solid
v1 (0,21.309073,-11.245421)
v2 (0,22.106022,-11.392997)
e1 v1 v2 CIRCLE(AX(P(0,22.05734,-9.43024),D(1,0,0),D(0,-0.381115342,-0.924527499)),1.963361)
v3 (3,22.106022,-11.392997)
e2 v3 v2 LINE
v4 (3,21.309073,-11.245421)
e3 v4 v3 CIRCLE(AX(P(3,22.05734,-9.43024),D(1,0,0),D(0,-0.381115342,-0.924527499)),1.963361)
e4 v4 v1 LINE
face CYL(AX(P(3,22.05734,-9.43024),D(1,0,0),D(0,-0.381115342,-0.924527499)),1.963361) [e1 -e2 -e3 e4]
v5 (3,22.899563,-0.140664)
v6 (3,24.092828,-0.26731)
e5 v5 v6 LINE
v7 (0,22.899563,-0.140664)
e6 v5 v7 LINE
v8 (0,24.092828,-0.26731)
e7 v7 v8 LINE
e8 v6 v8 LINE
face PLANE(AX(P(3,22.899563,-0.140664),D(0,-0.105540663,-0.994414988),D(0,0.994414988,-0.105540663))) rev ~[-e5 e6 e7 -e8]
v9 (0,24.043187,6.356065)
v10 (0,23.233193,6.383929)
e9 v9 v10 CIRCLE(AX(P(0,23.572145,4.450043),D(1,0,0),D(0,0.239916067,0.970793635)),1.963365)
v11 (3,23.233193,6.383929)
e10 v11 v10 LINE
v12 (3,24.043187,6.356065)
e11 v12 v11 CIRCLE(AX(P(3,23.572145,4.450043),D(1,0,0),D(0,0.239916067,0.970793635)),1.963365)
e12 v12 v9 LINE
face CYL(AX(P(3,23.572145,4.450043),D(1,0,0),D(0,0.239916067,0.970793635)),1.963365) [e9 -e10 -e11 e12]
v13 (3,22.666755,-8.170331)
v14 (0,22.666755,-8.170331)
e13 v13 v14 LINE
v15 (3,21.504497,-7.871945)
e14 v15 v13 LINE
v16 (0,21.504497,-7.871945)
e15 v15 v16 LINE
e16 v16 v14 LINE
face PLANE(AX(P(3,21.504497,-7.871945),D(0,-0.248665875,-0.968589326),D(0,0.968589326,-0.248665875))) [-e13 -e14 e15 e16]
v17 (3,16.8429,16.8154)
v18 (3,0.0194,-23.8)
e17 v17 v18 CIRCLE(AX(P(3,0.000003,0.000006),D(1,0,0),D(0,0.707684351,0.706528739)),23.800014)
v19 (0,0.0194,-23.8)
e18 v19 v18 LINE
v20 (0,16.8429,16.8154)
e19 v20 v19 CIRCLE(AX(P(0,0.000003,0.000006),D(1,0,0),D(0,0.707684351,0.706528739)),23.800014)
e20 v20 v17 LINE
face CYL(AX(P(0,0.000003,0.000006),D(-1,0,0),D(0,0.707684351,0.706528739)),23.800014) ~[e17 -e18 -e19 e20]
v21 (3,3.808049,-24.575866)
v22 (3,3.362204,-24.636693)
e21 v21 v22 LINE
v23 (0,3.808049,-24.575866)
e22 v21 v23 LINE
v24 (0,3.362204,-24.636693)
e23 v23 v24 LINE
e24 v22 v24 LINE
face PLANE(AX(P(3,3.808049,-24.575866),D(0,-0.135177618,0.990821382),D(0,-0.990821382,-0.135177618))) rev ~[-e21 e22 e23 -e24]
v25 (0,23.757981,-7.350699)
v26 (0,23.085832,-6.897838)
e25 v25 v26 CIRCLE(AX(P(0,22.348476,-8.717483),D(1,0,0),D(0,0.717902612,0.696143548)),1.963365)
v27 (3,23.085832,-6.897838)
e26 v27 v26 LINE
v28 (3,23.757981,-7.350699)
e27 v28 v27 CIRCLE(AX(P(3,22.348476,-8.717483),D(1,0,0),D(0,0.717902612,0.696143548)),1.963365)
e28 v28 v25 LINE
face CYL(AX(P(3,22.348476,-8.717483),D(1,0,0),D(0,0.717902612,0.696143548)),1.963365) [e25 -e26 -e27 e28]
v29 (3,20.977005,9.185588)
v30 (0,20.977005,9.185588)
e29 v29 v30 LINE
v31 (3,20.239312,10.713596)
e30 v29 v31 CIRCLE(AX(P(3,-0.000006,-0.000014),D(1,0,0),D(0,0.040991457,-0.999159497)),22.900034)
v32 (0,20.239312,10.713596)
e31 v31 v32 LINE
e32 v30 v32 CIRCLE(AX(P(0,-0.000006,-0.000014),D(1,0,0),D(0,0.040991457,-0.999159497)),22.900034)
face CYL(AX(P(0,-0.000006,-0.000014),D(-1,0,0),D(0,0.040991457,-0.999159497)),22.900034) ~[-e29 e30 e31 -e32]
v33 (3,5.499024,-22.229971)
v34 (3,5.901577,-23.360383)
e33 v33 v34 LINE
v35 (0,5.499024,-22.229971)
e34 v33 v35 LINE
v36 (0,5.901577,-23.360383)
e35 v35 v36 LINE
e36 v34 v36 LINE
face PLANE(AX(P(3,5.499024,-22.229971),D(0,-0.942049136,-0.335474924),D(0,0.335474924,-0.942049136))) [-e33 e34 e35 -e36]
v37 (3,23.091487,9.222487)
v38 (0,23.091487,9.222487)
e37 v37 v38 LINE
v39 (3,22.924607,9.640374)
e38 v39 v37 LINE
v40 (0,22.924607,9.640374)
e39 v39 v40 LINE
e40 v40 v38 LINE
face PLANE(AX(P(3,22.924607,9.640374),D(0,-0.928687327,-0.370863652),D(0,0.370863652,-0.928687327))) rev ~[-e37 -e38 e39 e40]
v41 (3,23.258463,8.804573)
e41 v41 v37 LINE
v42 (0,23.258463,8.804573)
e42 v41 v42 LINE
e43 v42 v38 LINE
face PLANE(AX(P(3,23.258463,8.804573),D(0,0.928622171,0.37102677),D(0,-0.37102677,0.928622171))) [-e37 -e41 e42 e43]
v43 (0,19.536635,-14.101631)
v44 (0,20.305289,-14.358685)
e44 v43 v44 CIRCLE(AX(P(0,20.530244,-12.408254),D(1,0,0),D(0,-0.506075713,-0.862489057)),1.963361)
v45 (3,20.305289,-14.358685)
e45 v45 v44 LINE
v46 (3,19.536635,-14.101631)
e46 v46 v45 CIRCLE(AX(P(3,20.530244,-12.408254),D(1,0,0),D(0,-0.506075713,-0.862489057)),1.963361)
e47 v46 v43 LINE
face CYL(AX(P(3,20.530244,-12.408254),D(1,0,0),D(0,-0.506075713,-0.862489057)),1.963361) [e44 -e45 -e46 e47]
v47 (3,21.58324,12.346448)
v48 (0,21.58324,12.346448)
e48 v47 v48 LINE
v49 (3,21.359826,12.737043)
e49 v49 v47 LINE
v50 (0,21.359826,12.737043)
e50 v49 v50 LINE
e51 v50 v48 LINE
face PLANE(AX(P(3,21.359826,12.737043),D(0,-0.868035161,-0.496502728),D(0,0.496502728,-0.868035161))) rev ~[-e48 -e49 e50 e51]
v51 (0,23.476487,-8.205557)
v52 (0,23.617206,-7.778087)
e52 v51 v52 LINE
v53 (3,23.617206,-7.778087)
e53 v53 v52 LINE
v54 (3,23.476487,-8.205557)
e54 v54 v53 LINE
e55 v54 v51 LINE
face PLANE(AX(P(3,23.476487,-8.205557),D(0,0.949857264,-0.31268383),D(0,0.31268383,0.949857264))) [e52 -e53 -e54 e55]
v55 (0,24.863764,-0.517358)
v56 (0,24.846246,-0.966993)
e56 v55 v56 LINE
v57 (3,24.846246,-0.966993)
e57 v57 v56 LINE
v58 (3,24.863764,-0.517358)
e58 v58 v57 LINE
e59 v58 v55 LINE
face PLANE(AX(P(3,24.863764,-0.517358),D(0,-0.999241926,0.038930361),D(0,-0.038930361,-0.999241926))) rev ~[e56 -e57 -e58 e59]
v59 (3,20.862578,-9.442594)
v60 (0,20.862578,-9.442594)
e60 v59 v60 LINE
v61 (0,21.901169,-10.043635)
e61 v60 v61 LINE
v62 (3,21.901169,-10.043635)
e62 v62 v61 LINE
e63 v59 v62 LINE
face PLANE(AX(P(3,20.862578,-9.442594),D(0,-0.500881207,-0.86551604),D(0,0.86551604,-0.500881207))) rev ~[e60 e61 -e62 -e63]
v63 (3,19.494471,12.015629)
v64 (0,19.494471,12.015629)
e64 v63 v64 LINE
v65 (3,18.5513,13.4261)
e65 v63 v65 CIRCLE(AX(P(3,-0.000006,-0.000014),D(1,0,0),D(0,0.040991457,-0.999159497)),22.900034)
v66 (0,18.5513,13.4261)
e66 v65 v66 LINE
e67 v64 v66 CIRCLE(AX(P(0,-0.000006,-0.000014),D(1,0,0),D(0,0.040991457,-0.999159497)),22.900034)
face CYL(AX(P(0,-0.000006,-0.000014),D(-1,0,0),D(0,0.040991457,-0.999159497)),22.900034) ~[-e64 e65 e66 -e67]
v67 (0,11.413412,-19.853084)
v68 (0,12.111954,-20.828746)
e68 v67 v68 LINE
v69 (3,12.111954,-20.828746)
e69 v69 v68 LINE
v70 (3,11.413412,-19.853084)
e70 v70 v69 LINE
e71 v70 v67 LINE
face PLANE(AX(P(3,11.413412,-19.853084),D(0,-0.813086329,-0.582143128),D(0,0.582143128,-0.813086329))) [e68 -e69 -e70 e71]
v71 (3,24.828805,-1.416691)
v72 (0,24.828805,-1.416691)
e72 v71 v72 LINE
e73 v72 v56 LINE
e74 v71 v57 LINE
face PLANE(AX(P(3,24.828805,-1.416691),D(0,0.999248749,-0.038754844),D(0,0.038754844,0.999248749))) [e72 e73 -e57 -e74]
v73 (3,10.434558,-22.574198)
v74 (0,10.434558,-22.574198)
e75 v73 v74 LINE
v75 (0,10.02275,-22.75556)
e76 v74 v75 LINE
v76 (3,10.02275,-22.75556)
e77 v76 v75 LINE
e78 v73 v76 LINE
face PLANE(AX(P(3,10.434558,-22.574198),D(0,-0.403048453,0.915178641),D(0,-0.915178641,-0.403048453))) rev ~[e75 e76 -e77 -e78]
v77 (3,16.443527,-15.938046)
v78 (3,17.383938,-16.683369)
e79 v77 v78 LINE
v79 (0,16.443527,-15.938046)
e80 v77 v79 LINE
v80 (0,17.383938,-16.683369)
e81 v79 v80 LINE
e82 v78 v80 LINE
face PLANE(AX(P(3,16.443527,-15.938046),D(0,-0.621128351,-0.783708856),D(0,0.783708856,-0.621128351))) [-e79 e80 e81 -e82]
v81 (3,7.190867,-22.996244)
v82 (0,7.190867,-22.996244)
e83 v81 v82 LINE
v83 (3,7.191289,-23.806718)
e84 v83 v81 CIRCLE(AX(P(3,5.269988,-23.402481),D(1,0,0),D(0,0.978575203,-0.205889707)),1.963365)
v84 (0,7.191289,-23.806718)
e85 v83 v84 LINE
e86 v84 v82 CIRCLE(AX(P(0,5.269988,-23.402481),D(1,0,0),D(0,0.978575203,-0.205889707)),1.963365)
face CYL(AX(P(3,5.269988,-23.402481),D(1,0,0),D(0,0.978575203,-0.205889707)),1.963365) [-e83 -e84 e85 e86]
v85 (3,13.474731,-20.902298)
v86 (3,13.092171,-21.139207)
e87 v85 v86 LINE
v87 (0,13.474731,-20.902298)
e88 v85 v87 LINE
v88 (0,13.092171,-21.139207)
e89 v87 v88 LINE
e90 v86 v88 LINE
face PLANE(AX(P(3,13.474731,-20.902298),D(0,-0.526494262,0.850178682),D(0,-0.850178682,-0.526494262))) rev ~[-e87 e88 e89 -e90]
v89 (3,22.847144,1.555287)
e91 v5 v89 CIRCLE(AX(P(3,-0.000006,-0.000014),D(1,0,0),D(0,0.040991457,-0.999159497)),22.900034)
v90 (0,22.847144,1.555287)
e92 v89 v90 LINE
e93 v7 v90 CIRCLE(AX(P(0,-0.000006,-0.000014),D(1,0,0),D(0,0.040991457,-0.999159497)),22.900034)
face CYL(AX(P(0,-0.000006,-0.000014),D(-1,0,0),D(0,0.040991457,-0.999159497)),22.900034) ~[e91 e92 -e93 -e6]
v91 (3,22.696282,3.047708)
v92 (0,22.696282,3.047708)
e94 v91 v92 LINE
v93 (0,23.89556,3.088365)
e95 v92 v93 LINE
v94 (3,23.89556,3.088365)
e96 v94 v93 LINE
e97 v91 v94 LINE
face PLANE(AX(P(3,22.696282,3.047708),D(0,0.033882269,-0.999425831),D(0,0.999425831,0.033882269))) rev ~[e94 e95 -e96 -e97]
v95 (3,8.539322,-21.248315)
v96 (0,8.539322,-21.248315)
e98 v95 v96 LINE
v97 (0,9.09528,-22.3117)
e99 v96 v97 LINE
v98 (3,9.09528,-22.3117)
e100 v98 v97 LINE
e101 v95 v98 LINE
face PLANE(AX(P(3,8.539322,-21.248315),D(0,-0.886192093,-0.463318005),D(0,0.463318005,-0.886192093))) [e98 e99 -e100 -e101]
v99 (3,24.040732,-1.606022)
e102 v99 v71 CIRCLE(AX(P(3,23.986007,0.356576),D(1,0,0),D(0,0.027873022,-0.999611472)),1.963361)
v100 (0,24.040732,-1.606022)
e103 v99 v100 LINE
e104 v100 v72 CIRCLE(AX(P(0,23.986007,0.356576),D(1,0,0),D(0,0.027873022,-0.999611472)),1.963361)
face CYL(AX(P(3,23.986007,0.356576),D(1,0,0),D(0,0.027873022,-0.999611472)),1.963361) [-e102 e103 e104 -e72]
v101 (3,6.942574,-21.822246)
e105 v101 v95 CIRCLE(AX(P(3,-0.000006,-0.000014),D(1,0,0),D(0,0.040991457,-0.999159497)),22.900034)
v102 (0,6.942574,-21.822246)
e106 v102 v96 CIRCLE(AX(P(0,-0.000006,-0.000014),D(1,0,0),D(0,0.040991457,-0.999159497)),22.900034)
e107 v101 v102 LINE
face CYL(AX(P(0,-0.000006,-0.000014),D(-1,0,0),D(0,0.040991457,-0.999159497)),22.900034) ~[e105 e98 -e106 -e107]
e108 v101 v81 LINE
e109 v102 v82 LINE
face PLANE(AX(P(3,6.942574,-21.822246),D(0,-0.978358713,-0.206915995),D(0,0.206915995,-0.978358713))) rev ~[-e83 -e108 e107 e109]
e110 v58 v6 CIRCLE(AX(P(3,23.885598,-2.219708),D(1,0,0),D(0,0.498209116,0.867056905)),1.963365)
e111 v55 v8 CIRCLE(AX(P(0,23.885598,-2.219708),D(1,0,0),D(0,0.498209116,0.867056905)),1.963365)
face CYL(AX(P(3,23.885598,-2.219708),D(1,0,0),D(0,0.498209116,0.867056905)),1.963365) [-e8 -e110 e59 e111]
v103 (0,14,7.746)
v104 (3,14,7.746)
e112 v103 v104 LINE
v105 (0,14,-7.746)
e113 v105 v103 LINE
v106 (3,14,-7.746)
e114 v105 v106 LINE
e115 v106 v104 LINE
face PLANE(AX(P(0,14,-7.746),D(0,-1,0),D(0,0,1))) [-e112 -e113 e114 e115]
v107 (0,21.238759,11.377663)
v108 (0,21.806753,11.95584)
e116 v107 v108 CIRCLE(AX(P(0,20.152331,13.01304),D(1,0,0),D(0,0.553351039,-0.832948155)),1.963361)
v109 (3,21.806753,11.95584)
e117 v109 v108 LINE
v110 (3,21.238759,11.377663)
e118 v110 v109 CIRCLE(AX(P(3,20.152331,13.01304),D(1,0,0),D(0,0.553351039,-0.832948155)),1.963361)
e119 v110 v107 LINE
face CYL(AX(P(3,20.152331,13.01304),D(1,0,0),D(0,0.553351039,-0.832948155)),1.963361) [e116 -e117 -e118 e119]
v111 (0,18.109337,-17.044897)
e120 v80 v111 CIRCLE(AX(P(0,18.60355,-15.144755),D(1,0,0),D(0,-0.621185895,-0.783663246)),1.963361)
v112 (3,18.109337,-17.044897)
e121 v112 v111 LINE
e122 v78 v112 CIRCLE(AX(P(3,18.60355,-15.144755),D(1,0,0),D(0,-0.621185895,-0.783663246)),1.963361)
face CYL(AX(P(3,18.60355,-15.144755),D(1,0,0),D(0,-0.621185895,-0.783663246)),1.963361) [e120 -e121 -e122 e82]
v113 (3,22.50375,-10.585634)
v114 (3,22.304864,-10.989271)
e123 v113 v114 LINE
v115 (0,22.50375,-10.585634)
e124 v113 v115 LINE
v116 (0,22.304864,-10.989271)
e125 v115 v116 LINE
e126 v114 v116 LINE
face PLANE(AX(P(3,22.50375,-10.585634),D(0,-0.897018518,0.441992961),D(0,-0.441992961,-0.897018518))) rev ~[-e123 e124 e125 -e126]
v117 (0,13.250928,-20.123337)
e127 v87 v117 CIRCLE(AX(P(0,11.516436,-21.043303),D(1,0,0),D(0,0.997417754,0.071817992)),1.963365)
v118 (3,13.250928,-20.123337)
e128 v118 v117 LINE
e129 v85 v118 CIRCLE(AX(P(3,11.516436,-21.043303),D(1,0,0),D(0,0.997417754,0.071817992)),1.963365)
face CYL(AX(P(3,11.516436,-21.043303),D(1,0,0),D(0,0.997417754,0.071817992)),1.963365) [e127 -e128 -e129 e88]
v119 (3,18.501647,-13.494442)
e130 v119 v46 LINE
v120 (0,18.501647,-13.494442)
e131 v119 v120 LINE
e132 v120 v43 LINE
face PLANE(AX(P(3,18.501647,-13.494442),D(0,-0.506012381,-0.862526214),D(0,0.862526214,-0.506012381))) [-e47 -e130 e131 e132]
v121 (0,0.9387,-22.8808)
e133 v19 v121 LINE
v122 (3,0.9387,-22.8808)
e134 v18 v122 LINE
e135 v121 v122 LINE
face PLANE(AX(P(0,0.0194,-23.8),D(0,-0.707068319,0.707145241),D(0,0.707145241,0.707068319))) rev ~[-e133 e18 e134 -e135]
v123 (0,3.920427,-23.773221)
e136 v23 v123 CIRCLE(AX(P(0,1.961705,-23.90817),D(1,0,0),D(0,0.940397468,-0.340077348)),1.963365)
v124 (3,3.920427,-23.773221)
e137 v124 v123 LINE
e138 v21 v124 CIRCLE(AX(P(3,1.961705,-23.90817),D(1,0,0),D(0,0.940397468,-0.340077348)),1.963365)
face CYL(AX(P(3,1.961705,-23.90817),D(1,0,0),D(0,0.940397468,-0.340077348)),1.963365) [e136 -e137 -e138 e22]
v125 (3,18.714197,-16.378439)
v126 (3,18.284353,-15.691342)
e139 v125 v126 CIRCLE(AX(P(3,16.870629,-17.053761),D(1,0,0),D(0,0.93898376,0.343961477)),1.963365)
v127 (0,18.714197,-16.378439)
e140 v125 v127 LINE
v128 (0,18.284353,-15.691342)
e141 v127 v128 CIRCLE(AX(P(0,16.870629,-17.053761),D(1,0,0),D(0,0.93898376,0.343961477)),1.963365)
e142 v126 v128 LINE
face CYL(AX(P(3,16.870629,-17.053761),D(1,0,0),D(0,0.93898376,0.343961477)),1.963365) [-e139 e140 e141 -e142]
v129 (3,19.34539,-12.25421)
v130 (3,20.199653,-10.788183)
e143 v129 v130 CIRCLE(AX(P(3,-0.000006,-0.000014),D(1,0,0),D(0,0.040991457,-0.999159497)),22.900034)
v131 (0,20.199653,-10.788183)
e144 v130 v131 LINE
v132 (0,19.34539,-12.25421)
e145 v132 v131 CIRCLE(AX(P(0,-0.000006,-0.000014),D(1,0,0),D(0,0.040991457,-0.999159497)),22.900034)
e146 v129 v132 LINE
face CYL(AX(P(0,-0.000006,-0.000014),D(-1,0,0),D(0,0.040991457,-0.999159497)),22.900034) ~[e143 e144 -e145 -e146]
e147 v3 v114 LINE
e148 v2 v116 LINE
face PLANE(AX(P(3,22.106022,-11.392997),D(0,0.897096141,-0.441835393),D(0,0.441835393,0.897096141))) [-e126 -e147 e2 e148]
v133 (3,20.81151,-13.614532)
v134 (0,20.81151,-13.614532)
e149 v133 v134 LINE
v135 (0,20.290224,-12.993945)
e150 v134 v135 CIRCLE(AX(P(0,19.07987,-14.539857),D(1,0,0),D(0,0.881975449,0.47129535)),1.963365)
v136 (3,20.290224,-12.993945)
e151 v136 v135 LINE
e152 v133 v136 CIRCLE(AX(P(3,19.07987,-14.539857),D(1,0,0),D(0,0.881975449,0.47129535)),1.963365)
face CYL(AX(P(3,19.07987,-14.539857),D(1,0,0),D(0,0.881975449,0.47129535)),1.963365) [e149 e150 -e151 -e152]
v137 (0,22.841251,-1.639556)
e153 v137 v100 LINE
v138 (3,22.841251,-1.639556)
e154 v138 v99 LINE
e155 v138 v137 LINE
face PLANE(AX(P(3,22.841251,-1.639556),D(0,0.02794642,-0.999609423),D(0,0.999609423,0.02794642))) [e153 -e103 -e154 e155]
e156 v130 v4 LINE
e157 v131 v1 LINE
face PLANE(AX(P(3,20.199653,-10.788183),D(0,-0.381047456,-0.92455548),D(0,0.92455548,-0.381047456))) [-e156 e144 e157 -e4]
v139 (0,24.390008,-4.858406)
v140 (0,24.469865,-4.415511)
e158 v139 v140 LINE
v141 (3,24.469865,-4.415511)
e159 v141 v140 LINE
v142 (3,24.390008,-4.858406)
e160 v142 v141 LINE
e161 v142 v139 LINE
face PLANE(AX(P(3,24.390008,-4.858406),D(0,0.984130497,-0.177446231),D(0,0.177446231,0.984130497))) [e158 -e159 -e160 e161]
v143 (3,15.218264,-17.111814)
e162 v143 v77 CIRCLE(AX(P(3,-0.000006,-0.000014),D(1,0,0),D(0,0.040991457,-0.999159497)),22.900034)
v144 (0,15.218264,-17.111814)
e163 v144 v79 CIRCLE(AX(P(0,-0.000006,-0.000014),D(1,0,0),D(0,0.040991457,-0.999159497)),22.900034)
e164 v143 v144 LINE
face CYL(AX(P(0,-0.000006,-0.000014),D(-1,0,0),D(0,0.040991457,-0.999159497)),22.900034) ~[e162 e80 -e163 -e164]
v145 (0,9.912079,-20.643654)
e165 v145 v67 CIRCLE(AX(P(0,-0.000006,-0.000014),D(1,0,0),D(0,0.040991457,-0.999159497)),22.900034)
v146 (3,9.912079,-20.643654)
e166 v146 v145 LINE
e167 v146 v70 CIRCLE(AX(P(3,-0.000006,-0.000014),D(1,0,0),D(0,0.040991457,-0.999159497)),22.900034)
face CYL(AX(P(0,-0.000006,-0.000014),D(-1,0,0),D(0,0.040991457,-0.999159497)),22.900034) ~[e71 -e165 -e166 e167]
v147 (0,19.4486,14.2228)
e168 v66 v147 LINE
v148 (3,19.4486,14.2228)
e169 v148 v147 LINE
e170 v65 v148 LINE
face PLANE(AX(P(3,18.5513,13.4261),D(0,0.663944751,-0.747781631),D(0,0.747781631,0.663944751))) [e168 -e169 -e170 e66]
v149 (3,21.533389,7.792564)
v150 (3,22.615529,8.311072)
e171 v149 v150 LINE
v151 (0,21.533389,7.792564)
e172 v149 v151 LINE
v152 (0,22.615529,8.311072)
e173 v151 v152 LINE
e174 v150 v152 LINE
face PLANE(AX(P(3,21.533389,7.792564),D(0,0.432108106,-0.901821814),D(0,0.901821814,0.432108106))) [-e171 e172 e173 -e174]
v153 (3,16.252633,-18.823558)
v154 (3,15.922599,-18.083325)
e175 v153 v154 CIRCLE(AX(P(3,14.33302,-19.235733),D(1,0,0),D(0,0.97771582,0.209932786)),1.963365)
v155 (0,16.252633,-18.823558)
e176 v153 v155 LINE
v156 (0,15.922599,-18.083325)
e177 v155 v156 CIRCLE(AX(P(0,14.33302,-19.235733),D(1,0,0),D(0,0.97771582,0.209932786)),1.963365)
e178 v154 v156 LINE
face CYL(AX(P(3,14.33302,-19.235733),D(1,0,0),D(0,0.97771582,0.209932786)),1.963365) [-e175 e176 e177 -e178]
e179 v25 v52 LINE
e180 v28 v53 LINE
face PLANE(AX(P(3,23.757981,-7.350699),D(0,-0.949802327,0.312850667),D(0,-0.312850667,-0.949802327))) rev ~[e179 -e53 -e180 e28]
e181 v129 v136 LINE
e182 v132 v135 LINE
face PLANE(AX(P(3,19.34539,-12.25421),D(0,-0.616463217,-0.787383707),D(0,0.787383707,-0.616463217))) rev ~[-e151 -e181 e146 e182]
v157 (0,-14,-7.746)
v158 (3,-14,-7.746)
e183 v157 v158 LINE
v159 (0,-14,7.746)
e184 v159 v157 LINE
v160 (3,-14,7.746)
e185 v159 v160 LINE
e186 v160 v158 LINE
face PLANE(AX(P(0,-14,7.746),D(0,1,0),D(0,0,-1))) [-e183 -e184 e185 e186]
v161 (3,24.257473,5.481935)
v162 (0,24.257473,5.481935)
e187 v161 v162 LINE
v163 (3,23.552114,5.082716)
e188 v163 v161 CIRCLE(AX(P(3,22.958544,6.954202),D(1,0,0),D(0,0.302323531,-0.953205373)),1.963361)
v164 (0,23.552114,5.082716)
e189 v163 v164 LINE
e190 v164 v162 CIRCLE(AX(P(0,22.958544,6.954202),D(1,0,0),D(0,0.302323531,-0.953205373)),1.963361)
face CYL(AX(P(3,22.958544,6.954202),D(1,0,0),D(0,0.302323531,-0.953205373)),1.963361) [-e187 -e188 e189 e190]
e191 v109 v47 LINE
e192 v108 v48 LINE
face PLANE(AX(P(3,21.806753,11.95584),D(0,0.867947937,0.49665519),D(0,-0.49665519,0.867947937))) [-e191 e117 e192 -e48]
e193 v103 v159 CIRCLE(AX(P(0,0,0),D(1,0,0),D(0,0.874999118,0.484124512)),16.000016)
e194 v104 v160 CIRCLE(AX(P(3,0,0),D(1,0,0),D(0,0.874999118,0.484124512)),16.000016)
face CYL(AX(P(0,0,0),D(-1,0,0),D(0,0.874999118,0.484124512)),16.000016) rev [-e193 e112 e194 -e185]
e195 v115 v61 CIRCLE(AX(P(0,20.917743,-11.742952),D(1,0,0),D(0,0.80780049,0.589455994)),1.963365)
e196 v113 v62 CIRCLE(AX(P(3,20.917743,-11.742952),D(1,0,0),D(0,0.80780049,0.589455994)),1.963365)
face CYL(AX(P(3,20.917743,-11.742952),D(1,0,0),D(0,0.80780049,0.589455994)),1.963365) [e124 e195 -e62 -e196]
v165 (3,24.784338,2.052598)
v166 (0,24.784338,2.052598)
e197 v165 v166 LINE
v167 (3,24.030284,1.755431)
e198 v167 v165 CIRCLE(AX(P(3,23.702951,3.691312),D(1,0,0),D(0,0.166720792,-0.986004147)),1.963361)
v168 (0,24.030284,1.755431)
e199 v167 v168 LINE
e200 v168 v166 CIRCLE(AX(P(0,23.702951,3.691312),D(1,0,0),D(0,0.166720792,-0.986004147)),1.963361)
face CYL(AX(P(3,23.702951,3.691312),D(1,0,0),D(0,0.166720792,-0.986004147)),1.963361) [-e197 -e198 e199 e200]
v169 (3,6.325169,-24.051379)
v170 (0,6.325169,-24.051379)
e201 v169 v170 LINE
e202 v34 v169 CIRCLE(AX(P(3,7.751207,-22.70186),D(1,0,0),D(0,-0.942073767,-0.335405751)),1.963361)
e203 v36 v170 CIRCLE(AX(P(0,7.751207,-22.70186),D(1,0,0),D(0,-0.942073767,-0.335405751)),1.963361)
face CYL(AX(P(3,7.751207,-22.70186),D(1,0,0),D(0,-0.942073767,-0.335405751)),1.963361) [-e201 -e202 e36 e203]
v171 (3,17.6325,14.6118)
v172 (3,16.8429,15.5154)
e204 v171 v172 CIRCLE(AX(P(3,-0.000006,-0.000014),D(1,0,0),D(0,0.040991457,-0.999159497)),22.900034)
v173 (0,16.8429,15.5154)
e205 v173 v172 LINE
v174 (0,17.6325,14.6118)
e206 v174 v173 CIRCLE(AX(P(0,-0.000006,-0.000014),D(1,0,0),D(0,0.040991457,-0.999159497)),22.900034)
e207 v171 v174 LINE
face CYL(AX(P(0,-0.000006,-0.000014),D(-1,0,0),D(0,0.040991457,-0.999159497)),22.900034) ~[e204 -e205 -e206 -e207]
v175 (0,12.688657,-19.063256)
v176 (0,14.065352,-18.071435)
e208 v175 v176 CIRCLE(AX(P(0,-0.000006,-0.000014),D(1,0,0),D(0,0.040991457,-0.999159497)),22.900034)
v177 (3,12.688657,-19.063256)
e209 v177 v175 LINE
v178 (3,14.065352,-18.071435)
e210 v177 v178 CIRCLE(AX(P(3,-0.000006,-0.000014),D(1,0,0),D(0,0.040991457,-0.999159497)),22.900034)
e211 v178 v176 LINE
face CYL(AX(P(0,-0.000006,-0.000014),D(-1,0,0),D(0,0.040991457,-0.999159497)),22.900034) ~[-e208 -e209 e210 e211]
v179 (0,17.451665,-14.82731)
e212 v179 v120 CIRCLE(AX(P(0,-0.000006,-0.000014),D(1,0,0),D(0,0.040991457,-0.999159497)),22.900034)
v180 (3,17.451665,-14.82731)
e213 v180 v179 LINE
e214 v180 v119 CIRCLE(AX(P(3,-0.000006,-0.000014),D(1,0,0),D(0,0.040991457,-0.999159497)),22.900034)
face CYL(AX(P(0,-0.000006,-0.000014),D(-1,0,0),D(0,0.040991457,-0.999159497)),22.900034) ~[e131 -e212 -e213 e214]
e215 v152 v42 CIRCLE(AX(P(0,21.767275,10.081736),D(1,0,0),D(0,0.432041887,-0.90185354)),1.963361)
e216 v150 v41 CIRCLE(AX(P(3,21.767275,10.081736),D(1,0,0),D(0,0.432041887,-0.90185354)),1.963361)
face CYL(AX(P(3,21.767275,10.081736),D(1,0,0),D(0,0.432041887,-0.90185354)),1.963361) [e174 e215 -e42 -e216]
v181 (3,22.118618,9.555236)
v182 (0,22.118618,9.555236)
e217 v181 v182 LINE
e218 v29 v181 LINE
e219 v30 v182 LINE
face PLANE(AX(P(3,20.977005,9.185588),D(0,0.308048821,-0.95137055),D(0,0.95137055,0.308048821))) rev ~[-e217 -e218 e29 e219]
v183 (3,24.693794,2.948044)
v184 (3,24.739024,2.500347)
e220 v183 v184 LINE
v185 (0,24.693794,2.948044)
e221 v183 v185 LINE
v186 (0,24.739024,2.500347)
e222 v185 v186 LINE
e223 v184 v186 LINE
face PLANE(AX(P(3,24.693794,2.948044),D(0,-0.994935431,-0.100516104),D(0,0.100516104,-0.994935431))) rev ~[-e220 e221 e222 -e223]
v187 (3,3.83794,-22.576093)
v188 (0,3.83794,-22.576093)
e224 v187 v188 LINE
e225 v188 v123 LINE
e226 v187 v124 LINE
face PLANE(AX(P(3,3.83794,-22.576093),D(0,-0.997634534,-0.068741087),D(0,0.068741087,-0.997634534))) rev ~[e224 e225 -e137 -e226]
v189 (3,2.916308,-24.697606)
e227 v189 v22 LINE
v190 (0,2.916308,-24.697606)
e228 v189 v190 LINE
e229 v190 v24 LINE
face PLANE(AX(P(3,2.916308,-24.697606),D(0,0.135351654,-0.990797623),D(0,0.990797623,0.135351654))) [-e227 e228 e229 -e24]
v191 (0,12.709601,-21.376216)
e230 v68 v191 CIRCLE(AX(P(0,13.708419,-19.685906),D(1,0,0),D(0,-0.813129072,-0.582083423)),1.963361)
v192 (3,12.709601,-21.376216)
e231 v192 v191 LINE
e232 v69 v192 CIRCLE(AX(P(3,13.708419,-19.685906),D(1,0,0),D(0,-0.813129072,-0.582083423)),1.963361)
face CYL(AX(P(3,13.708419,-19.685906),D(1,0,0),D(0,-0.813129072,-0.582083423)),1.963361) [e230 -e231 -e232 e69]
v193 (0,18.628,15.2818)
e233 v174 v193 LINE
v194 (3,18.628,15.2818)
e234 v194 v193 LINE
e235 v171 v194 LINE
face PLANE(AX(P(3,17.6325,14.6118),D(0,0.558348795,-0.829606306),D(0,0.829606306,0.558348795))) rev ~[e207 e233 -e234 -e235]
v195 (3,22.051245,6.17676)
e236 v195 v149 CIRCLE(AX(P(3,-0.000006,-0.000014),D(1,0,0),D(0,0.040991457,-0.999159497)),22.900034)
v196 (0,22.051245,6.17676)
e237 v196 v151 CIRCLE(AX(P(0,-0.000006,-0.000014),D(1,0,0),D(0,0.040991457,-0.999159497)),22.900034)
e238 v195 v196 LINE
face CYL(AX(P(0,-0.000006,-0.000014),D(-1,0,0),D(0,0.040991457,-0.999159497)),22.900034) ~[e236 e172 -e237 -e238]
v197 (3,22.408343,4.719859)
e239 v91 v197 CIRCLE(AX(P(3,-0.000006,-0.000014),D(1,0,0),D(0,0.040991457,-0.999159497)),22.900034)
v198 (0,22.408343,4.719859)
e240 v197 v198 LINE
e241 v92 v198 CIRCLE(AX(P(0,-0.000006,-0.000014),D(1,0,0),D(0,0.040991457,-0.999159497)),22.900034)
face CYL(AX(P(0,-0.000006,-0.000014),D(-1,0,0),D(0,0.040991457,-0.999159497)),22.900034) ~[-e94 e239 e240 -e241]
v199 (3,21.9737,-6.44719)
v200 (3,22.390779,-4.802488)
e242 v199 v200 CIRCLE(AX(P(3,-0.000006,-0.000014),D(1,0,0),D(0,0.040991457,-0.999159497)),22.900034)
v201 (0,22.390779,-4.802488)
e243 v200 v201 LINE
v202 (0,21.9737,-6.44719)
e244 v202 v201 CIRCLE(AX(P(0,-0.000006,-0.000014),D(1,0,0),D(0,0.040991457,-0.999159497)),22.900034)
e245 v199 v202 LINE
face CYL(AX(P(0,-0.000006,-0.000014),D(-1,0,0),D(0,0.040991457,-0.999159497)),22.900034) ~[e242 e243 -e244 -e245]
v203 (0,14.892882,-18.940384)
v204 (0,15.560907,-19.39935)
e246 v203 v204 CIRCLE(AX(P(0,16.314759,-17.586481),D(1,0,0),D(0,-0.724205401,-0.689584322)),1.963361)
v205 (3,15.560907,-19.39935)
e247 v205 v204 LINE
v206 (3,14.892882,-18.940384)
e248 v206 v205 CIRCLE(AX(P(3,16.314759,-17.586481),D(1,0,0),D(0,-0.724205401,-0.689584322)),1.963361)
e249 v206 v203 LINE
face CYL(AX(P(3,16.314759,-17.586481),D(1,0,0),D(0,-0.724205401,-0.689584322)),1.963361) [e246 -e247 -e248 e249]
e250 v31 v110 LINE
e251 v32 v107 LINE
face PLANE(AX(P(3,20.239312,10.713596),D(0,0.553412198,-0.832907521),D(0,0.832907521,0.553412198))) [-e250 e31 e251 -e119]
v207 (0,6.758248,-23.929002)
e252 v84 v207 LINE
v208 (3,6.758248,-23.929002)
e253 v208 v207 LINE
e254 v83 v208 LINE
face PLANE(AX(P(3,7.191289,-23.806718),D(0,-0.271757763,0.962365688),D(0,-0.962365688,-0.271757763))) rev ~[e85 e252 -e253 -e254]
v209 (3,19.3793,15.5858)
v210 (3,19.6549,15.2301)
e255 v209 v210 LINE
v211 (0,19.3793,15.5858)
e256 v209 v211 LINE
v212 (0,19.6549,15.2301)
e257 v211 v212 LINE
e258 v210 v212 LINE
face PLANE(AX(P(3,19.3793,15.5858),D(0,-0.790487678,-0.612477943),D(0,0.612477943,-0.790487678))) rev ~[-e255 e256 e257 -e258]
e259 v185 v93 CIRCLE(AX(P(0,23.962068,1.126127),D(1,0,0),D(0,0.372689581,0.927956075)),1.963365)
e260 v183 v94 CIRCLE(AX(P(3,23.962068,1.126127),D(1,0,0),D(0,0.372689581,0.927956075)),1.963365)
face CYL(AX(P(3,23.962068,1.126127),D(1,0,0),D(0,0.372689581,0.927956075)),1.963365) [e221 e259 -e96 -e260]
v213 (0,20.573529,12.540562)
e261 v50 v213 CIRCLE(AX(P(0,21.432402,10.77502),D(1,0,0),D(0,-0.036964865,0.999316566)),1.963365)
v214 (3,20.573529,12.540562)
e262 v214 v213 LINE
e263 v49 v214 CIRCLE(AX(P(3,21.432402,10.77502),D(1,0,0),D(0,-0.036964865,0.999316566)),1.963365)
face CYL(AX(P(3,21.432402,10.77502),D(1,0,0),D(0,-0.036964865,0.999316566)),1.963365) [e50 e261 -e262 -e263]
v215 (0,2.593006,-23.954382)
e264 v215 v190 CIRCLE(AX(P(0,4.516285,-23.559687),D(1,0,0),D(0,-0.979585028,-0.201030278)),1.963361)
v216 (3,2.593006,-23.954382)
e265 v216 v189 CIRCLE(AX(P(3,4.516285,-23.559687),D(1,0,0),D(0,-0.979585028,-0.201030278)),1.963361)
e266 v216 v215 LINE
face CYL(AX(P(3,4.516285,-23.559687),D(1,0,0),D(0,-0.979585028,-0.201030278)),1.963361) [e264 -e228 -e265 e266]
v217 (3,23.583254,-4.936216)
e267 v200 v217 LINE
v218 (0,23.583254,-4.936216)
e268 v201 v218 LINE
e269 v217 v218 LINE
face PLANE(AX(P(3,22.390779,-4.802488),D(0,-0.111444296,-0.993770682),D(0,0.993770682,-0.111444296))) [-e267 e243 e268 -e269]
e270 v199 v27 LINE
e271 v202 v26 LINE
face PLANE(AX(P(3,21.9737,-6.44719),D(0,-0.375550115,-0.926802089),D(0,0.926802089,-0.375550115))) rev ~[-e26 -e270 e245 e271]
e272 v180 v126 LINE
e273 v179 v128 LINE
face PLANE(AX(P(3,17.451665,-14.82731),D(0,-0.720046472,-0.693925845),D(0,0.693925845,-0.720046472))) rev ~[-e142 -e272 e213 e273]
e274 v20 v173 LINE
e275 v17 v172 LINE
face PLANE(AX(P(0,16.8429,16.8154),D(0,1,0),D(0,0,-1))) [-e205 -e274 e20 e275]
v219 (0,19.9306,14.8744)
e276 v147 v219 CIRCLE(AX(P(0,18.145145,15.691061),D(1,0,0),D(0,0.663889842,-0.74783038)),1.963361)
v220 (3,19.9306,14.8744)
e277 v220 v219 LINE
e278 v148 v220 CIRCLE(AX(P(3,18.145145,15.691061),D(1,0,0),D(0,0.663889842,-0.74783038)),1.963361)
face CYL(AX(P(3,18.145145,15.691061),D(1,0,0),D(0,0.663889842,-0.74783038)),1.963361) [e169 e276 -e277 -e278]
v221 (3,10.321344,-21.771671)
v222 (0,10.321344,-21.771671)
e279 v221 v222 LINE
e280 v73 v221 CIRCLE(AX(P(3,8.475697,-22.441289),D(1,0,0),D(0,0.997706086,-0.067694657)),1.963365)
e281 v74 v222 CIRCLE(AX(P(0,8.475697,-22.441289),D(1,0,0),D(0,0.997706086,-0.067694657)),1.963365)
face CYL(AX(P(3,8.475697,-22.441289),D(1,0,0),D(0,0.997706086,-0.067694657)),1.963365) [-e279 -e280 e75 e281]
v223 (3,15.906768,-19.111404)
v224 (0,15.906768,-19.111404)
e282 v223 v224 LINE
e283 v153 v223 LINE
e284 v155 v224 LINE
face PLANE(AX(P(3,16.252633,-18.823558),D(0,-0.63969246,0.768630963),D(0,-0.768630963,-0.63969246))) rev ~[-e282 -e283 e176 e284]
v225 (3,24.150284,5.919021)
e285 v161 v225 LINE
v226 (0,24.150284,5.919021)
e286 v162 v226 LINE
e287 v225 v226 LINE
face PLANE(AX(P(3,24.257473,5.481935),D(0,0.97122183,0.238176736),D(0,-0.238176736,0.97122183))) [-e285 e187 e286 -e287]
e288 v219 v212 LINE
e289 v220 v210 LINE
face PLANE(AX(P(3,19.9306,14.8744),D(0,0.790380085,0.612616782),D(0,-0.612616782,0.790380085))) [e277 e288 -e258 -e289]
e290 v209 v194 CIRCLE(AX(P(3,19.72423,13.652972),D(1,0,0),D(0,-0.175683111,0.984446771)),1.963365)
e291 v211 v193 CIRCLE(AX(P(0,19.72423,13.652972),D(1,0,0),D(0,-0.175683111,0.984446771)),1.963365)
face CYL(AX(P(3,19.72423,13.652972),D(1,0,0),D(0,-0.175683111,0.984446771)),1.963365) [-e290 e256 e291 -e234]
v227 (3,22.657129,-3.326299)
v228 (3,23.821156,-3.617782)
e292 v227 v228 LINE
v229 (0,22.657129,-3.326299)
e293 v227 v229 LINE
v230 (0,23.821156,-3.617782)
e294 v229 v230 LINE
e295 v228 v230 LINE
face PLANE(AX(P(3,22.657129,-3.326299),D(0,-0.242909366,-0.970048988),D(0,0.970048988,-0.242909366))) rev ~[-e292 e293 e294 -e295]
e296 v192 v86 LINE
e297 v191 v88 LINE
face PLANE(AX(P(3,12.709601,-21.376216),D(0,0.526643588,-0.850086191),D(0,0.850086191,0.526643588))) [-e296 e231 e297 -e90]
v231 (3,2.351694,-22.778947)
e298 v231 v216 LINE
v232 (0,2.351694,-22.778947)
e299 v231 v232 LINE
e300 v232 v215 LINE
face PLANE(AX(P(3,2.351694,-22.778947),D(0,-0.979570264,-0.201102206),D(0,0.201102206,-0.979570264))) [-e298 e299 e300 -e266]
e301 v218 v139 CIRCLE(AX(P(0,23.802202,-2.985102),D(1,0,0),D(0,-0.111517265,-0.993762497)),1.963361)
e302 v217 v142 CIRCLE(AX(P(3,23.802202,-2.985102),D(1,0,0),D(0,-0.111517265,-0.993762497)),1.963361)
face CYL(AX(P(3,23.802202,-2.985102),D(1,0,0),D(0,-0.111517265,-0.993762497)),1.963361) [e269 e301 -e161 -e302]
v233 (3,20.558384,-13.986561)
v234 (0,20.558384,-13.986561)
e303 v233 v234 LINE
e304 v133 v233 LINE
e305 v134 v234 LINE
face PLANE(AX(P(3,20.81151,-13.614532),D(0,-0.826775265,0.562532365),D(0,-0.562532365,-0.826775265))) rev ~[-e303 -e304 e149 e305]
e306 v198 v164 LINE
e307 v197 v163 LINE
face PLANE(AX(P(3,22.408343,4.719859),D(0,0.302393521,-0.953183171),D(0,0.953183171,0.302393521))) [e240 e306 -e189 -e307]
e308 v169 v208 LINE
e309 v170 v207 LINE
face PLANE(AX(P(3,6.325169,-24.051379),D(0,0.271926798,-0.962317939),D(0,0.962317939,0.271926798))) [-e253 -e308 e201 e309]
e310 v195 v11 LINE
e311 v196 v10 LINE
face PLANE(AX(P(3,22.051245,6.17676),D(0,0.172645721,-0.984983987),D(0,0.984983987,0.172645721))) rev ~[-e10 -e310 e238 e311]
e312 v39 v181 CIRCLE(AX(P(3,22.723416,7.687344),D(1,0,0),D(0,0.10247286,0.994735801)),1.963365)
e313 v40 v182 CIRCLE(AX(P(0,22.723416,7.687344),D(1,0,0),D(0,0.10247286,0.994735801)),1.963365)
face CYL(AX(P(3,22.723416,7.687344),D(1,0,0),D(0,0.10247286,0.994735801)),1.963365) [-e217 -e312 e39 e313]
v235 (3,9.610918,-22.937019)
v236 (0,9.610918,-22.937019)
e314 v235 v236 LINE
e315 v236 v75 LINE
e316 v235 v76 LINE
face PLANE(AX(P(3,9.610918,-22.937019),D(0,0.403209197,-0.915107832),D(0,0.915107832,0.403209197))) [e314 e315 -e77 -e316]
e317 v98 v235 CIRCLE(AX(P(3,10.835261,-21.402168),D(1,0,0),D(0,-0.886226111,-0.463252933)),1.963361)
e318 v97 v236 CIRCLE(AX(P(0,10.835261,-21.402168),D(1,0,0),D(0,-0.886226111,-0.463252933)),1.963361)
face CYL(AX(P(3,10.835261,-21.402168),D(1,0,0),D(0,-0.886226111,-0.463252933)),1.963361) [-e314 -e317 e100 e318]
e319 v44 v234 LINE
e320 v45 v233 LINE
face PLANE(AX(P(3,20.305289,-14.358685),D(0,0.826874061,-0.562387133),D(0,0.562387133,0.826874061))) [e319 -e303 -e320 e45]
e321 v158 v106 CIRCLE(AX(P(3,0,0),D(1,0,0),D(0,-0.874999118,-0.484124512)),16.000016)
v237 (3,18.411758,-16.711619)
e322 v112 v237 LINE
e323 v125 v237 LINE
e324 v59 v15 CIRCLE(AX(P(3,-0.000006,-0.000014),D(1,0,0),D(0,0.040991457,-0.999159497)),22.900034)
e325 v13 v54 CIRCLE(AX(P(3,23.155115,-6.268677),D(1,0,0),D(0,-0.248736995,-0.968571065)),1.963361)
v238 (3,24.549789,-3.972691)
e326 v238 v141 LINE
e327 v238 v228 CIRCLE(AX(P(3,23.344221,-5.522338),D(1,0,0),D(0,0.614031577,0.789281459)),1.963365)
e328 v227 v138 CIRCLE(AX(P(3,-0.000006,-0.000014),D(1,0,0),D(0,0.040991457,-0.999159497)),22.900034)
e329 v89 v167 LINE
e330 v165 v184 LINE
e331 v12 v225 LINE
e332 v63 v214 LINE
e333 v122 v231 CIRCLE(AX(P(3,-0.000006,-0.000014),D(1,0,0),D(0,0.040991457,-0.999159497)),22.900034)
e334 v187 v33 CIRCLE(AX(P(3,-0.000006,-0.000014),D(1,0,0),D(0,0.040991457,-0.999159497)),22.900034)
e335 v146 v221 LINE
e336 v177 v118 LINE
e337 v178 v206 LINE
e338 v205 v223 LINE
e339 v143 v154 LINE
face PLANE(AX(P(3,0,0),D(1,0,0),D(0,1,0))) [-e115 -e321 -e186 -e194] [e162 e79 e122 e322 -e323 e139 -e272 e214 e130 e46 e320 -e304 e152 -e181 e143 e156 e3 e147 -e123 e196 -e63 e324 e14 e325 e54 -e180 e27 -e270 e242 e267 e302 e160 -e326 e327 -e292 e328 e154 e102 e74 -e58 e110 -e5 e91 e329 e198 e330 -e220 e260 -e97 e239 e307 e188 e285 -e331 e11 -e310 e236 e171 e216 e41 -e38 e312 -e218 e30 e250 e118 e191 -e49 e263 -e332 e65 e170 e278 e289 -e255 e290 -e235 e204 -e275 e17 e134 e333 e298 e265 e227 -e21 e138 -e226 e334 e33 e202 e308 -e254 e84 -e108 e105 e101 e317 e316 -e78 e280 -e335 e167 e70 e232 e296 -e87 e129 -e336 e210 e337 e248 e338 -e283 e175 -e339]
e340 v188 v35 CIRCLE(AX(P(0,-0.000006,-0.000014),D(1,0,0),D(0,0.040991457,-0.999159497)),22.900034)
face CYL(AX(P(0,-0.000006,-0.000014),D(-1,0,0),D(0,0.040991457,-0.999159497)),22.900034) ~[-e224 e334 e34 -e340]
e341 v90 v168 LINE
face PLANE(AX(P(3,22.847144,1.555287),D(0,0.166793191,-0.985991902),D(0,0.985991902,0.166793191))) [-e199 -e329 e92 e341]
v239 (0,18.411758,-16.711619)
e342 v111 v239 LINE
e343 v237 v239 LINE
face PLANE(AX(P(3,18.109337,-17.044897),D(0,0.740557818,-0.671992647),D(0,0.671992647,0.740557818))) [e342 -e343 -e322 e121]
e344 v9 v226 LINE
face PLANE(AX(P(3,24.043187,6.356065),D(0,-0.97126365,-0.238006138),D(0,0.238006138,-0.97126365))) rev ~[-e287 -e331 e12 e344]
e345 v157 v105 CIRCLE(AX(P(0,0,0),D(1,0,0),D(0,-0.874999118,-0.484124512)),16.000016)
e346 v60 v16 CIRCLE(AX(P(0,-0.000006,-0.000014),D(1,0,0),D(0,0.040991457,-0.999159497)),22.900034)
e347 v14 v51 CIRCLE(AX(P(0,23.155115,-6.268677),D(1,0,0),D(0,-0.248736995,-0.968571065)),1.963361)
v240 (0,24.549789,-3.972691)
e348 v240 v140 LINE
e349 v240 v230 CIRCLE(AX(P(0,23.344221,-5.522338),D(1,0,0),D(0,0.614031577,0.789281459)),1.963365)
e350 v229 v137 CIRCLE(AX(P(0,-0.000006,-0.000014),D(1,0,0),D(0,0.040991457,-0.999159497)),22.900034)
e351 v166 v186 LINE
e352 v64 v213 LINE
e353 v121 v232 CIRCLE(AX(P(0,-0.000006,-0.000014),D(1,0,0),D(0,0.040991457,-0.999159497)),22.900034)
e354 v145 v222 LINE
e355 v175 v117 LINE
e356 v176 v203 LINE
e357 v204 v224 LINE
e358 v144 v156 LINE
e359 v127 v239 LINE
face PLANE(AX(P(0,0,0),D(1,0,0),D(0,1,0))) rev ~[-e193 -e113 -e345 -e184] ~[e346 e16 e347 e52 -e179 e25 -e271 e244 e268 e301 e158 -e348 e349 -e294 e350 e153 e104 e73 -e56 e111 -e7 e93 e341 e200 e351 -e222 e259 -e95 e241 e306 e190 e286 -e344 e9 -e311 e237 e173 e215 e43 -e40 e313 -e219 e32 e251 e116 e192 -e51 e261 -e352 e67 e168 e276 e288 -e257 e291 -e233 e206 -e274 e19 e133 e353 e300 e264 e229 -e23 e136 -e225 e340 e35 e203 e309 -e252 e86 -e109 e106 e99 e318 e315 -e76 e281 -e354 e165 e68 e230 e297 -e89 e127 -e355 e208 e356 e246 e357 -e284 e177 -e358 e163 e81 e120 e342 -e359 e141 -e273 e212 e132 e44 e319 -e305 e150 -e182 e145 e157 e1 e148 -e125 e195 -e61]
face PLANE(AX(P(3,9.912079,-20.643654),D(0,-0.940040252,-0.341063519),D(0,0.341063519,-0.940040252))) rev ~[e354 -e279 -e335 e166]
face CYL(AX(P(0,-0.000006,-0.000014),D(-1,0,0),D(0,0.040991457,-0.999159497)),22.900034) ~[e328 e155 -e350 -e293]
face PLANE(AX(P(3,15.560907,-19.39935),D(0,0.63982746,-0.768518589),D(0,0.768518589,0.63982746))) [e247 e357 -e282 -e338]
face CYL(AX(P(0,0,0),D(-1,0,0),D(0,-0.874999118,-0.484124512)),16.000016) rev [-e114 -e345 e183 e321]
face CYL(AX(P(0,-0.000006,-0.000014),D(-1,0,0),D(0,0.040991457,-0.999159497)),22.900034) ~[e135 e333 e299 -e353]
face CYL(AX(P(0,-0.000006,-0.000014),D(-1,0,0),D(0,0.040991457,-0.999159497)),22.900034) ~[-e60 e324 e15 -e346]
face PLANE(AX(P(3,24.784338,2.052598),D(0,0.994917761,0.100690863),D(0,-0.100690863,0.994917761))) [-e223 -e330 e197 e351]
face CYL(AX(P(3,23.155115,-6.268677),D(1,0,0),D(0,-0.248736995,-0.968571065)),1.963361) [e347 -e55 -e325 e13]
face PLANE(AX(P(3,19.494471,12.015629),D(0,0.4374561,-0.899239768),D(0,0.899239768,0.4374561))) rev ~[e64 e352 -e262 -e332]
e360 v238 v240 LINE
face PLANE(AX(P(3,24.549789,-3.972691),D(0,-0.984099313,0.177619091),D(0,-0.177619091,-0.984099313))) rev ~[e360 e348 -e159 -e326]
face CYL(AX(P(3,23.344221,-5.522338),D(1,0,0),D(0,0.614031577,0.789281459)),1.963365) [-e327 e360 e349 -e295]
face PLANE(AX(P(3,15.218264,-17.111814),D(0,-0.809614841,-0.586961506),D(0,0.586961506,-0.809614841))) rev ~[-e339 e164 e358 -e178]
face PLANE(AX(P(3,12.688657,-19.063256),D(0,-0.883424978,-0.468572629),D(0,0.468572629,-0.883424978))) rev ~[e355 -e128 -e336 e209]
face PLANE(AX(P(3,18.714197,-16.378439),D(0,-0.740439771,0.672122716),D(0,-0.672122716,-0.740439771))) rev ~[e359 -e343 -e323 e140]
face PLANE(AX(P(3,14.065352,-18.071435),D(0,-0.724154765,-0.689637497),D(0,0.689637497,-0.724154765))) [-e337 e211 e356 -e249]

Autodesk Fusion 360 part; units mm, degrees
sketch "Sketch1" plane through (0, 0, 0) normal (1, 0, 0) x (0, 1, 0)
  line L0 (-14, 7.746) -> (-14, -7.746)
  line L1 (14, -7.746) -> (14, 7.746)
  line L2 (0, 0) -> (0, 30.2965) construction
  arc A0 (-14, -7.746) -> (14, -7.746) centre (0, 0) ccw
  arc A1 (14, 7.746) -> (-14, 7.746) centre (0, 0) ccw
  line L3 (16.8429, 16.8154) -> (16.8429, 15.5154)
  line L4 (0.0194, -23.8) -> (0.9387, -22.8808)
  arc A2 (16.8429, 16.8154) -> (0.0194, -23.8) centre (0, 0) ccw
  arc A3 (0.9387, -22.8808) -> (16.8429, 15.5154) centre (0, 0) ccw
  dimension "d1" = 47.6
  dimension "d2" = 32
  dimension "d3" = 28
  dimension "d4" = 45.8
  dimension "d5" = 135
  dimension "d6" = 1.3
  dimension "d7" = 1.3
extrude "Extrude1" add sketch "Sketch1" along normal blind 3
sketch "Sketch2" plane through (3, 0, 0) normal (1, 0, 0) x (0, 1, 0)
  arc A0 (14, 7.746) -> (-14, 7.746) centre (0, 0) ccw
  line L0 (14, 7.746) -> (14, -7.746)
  arc A1 (-14, -7.746) -> (14, -7.746) centre (0, 0) ccw
  line L1 (-14, -7.746) -> (-14, 7.746)
  arc A2 (16.8429, 16.8154) -> (0.0194, -23.8) centre (0, 0) ccw
  line L2 (0.0194, -23.8) -> (0.9387, -22.8808)
  arc A3 (0.9387, -22.8808) -> (16.8429, 15.5154) centre (0, 0) ccw
  line L3 (16.8429, 15.5154) -> (16.8429, 16.8154)
  line L4 (0, 0) -> (32.1047, 24.8771) construction
  line L5 (17.6325, 14.6118) -> (18.628, 15.2818)
  arc A4 (19.3793, 15.5858) -> (18.628, 15.2818) centre (19.7243, 13.653) ccw
  line L6 (19.3793, 15.5858) -> (19.6549, 15.2301)
  line L7 (18.5513, 13.4261) -> (19.4486, 14.2228)
  arc A5 (19.4486, 14.2228) -> (19.9306, 14.8744) centre (18.1451, 15.691) ccw
  line L8 (19.9306, 14.8744) -> (19.6549, 15.2301)
  dimension "d10" = 1.2
  dimension "d11" = 1.2
  dimension "d12" = 2
  dimension "d13" = 0.45
  dimension "d14" = 0.75
extrude "Extrude2" add sketch "Sketch2" against normal blind 3 contours A3 L5 A4 L6 L7 A5 L8
pattern_circular "C-Pattern1" count 16 over 120 about axis through (0, 0, 0) along (-1, 0, 0) of "Extrude2"
